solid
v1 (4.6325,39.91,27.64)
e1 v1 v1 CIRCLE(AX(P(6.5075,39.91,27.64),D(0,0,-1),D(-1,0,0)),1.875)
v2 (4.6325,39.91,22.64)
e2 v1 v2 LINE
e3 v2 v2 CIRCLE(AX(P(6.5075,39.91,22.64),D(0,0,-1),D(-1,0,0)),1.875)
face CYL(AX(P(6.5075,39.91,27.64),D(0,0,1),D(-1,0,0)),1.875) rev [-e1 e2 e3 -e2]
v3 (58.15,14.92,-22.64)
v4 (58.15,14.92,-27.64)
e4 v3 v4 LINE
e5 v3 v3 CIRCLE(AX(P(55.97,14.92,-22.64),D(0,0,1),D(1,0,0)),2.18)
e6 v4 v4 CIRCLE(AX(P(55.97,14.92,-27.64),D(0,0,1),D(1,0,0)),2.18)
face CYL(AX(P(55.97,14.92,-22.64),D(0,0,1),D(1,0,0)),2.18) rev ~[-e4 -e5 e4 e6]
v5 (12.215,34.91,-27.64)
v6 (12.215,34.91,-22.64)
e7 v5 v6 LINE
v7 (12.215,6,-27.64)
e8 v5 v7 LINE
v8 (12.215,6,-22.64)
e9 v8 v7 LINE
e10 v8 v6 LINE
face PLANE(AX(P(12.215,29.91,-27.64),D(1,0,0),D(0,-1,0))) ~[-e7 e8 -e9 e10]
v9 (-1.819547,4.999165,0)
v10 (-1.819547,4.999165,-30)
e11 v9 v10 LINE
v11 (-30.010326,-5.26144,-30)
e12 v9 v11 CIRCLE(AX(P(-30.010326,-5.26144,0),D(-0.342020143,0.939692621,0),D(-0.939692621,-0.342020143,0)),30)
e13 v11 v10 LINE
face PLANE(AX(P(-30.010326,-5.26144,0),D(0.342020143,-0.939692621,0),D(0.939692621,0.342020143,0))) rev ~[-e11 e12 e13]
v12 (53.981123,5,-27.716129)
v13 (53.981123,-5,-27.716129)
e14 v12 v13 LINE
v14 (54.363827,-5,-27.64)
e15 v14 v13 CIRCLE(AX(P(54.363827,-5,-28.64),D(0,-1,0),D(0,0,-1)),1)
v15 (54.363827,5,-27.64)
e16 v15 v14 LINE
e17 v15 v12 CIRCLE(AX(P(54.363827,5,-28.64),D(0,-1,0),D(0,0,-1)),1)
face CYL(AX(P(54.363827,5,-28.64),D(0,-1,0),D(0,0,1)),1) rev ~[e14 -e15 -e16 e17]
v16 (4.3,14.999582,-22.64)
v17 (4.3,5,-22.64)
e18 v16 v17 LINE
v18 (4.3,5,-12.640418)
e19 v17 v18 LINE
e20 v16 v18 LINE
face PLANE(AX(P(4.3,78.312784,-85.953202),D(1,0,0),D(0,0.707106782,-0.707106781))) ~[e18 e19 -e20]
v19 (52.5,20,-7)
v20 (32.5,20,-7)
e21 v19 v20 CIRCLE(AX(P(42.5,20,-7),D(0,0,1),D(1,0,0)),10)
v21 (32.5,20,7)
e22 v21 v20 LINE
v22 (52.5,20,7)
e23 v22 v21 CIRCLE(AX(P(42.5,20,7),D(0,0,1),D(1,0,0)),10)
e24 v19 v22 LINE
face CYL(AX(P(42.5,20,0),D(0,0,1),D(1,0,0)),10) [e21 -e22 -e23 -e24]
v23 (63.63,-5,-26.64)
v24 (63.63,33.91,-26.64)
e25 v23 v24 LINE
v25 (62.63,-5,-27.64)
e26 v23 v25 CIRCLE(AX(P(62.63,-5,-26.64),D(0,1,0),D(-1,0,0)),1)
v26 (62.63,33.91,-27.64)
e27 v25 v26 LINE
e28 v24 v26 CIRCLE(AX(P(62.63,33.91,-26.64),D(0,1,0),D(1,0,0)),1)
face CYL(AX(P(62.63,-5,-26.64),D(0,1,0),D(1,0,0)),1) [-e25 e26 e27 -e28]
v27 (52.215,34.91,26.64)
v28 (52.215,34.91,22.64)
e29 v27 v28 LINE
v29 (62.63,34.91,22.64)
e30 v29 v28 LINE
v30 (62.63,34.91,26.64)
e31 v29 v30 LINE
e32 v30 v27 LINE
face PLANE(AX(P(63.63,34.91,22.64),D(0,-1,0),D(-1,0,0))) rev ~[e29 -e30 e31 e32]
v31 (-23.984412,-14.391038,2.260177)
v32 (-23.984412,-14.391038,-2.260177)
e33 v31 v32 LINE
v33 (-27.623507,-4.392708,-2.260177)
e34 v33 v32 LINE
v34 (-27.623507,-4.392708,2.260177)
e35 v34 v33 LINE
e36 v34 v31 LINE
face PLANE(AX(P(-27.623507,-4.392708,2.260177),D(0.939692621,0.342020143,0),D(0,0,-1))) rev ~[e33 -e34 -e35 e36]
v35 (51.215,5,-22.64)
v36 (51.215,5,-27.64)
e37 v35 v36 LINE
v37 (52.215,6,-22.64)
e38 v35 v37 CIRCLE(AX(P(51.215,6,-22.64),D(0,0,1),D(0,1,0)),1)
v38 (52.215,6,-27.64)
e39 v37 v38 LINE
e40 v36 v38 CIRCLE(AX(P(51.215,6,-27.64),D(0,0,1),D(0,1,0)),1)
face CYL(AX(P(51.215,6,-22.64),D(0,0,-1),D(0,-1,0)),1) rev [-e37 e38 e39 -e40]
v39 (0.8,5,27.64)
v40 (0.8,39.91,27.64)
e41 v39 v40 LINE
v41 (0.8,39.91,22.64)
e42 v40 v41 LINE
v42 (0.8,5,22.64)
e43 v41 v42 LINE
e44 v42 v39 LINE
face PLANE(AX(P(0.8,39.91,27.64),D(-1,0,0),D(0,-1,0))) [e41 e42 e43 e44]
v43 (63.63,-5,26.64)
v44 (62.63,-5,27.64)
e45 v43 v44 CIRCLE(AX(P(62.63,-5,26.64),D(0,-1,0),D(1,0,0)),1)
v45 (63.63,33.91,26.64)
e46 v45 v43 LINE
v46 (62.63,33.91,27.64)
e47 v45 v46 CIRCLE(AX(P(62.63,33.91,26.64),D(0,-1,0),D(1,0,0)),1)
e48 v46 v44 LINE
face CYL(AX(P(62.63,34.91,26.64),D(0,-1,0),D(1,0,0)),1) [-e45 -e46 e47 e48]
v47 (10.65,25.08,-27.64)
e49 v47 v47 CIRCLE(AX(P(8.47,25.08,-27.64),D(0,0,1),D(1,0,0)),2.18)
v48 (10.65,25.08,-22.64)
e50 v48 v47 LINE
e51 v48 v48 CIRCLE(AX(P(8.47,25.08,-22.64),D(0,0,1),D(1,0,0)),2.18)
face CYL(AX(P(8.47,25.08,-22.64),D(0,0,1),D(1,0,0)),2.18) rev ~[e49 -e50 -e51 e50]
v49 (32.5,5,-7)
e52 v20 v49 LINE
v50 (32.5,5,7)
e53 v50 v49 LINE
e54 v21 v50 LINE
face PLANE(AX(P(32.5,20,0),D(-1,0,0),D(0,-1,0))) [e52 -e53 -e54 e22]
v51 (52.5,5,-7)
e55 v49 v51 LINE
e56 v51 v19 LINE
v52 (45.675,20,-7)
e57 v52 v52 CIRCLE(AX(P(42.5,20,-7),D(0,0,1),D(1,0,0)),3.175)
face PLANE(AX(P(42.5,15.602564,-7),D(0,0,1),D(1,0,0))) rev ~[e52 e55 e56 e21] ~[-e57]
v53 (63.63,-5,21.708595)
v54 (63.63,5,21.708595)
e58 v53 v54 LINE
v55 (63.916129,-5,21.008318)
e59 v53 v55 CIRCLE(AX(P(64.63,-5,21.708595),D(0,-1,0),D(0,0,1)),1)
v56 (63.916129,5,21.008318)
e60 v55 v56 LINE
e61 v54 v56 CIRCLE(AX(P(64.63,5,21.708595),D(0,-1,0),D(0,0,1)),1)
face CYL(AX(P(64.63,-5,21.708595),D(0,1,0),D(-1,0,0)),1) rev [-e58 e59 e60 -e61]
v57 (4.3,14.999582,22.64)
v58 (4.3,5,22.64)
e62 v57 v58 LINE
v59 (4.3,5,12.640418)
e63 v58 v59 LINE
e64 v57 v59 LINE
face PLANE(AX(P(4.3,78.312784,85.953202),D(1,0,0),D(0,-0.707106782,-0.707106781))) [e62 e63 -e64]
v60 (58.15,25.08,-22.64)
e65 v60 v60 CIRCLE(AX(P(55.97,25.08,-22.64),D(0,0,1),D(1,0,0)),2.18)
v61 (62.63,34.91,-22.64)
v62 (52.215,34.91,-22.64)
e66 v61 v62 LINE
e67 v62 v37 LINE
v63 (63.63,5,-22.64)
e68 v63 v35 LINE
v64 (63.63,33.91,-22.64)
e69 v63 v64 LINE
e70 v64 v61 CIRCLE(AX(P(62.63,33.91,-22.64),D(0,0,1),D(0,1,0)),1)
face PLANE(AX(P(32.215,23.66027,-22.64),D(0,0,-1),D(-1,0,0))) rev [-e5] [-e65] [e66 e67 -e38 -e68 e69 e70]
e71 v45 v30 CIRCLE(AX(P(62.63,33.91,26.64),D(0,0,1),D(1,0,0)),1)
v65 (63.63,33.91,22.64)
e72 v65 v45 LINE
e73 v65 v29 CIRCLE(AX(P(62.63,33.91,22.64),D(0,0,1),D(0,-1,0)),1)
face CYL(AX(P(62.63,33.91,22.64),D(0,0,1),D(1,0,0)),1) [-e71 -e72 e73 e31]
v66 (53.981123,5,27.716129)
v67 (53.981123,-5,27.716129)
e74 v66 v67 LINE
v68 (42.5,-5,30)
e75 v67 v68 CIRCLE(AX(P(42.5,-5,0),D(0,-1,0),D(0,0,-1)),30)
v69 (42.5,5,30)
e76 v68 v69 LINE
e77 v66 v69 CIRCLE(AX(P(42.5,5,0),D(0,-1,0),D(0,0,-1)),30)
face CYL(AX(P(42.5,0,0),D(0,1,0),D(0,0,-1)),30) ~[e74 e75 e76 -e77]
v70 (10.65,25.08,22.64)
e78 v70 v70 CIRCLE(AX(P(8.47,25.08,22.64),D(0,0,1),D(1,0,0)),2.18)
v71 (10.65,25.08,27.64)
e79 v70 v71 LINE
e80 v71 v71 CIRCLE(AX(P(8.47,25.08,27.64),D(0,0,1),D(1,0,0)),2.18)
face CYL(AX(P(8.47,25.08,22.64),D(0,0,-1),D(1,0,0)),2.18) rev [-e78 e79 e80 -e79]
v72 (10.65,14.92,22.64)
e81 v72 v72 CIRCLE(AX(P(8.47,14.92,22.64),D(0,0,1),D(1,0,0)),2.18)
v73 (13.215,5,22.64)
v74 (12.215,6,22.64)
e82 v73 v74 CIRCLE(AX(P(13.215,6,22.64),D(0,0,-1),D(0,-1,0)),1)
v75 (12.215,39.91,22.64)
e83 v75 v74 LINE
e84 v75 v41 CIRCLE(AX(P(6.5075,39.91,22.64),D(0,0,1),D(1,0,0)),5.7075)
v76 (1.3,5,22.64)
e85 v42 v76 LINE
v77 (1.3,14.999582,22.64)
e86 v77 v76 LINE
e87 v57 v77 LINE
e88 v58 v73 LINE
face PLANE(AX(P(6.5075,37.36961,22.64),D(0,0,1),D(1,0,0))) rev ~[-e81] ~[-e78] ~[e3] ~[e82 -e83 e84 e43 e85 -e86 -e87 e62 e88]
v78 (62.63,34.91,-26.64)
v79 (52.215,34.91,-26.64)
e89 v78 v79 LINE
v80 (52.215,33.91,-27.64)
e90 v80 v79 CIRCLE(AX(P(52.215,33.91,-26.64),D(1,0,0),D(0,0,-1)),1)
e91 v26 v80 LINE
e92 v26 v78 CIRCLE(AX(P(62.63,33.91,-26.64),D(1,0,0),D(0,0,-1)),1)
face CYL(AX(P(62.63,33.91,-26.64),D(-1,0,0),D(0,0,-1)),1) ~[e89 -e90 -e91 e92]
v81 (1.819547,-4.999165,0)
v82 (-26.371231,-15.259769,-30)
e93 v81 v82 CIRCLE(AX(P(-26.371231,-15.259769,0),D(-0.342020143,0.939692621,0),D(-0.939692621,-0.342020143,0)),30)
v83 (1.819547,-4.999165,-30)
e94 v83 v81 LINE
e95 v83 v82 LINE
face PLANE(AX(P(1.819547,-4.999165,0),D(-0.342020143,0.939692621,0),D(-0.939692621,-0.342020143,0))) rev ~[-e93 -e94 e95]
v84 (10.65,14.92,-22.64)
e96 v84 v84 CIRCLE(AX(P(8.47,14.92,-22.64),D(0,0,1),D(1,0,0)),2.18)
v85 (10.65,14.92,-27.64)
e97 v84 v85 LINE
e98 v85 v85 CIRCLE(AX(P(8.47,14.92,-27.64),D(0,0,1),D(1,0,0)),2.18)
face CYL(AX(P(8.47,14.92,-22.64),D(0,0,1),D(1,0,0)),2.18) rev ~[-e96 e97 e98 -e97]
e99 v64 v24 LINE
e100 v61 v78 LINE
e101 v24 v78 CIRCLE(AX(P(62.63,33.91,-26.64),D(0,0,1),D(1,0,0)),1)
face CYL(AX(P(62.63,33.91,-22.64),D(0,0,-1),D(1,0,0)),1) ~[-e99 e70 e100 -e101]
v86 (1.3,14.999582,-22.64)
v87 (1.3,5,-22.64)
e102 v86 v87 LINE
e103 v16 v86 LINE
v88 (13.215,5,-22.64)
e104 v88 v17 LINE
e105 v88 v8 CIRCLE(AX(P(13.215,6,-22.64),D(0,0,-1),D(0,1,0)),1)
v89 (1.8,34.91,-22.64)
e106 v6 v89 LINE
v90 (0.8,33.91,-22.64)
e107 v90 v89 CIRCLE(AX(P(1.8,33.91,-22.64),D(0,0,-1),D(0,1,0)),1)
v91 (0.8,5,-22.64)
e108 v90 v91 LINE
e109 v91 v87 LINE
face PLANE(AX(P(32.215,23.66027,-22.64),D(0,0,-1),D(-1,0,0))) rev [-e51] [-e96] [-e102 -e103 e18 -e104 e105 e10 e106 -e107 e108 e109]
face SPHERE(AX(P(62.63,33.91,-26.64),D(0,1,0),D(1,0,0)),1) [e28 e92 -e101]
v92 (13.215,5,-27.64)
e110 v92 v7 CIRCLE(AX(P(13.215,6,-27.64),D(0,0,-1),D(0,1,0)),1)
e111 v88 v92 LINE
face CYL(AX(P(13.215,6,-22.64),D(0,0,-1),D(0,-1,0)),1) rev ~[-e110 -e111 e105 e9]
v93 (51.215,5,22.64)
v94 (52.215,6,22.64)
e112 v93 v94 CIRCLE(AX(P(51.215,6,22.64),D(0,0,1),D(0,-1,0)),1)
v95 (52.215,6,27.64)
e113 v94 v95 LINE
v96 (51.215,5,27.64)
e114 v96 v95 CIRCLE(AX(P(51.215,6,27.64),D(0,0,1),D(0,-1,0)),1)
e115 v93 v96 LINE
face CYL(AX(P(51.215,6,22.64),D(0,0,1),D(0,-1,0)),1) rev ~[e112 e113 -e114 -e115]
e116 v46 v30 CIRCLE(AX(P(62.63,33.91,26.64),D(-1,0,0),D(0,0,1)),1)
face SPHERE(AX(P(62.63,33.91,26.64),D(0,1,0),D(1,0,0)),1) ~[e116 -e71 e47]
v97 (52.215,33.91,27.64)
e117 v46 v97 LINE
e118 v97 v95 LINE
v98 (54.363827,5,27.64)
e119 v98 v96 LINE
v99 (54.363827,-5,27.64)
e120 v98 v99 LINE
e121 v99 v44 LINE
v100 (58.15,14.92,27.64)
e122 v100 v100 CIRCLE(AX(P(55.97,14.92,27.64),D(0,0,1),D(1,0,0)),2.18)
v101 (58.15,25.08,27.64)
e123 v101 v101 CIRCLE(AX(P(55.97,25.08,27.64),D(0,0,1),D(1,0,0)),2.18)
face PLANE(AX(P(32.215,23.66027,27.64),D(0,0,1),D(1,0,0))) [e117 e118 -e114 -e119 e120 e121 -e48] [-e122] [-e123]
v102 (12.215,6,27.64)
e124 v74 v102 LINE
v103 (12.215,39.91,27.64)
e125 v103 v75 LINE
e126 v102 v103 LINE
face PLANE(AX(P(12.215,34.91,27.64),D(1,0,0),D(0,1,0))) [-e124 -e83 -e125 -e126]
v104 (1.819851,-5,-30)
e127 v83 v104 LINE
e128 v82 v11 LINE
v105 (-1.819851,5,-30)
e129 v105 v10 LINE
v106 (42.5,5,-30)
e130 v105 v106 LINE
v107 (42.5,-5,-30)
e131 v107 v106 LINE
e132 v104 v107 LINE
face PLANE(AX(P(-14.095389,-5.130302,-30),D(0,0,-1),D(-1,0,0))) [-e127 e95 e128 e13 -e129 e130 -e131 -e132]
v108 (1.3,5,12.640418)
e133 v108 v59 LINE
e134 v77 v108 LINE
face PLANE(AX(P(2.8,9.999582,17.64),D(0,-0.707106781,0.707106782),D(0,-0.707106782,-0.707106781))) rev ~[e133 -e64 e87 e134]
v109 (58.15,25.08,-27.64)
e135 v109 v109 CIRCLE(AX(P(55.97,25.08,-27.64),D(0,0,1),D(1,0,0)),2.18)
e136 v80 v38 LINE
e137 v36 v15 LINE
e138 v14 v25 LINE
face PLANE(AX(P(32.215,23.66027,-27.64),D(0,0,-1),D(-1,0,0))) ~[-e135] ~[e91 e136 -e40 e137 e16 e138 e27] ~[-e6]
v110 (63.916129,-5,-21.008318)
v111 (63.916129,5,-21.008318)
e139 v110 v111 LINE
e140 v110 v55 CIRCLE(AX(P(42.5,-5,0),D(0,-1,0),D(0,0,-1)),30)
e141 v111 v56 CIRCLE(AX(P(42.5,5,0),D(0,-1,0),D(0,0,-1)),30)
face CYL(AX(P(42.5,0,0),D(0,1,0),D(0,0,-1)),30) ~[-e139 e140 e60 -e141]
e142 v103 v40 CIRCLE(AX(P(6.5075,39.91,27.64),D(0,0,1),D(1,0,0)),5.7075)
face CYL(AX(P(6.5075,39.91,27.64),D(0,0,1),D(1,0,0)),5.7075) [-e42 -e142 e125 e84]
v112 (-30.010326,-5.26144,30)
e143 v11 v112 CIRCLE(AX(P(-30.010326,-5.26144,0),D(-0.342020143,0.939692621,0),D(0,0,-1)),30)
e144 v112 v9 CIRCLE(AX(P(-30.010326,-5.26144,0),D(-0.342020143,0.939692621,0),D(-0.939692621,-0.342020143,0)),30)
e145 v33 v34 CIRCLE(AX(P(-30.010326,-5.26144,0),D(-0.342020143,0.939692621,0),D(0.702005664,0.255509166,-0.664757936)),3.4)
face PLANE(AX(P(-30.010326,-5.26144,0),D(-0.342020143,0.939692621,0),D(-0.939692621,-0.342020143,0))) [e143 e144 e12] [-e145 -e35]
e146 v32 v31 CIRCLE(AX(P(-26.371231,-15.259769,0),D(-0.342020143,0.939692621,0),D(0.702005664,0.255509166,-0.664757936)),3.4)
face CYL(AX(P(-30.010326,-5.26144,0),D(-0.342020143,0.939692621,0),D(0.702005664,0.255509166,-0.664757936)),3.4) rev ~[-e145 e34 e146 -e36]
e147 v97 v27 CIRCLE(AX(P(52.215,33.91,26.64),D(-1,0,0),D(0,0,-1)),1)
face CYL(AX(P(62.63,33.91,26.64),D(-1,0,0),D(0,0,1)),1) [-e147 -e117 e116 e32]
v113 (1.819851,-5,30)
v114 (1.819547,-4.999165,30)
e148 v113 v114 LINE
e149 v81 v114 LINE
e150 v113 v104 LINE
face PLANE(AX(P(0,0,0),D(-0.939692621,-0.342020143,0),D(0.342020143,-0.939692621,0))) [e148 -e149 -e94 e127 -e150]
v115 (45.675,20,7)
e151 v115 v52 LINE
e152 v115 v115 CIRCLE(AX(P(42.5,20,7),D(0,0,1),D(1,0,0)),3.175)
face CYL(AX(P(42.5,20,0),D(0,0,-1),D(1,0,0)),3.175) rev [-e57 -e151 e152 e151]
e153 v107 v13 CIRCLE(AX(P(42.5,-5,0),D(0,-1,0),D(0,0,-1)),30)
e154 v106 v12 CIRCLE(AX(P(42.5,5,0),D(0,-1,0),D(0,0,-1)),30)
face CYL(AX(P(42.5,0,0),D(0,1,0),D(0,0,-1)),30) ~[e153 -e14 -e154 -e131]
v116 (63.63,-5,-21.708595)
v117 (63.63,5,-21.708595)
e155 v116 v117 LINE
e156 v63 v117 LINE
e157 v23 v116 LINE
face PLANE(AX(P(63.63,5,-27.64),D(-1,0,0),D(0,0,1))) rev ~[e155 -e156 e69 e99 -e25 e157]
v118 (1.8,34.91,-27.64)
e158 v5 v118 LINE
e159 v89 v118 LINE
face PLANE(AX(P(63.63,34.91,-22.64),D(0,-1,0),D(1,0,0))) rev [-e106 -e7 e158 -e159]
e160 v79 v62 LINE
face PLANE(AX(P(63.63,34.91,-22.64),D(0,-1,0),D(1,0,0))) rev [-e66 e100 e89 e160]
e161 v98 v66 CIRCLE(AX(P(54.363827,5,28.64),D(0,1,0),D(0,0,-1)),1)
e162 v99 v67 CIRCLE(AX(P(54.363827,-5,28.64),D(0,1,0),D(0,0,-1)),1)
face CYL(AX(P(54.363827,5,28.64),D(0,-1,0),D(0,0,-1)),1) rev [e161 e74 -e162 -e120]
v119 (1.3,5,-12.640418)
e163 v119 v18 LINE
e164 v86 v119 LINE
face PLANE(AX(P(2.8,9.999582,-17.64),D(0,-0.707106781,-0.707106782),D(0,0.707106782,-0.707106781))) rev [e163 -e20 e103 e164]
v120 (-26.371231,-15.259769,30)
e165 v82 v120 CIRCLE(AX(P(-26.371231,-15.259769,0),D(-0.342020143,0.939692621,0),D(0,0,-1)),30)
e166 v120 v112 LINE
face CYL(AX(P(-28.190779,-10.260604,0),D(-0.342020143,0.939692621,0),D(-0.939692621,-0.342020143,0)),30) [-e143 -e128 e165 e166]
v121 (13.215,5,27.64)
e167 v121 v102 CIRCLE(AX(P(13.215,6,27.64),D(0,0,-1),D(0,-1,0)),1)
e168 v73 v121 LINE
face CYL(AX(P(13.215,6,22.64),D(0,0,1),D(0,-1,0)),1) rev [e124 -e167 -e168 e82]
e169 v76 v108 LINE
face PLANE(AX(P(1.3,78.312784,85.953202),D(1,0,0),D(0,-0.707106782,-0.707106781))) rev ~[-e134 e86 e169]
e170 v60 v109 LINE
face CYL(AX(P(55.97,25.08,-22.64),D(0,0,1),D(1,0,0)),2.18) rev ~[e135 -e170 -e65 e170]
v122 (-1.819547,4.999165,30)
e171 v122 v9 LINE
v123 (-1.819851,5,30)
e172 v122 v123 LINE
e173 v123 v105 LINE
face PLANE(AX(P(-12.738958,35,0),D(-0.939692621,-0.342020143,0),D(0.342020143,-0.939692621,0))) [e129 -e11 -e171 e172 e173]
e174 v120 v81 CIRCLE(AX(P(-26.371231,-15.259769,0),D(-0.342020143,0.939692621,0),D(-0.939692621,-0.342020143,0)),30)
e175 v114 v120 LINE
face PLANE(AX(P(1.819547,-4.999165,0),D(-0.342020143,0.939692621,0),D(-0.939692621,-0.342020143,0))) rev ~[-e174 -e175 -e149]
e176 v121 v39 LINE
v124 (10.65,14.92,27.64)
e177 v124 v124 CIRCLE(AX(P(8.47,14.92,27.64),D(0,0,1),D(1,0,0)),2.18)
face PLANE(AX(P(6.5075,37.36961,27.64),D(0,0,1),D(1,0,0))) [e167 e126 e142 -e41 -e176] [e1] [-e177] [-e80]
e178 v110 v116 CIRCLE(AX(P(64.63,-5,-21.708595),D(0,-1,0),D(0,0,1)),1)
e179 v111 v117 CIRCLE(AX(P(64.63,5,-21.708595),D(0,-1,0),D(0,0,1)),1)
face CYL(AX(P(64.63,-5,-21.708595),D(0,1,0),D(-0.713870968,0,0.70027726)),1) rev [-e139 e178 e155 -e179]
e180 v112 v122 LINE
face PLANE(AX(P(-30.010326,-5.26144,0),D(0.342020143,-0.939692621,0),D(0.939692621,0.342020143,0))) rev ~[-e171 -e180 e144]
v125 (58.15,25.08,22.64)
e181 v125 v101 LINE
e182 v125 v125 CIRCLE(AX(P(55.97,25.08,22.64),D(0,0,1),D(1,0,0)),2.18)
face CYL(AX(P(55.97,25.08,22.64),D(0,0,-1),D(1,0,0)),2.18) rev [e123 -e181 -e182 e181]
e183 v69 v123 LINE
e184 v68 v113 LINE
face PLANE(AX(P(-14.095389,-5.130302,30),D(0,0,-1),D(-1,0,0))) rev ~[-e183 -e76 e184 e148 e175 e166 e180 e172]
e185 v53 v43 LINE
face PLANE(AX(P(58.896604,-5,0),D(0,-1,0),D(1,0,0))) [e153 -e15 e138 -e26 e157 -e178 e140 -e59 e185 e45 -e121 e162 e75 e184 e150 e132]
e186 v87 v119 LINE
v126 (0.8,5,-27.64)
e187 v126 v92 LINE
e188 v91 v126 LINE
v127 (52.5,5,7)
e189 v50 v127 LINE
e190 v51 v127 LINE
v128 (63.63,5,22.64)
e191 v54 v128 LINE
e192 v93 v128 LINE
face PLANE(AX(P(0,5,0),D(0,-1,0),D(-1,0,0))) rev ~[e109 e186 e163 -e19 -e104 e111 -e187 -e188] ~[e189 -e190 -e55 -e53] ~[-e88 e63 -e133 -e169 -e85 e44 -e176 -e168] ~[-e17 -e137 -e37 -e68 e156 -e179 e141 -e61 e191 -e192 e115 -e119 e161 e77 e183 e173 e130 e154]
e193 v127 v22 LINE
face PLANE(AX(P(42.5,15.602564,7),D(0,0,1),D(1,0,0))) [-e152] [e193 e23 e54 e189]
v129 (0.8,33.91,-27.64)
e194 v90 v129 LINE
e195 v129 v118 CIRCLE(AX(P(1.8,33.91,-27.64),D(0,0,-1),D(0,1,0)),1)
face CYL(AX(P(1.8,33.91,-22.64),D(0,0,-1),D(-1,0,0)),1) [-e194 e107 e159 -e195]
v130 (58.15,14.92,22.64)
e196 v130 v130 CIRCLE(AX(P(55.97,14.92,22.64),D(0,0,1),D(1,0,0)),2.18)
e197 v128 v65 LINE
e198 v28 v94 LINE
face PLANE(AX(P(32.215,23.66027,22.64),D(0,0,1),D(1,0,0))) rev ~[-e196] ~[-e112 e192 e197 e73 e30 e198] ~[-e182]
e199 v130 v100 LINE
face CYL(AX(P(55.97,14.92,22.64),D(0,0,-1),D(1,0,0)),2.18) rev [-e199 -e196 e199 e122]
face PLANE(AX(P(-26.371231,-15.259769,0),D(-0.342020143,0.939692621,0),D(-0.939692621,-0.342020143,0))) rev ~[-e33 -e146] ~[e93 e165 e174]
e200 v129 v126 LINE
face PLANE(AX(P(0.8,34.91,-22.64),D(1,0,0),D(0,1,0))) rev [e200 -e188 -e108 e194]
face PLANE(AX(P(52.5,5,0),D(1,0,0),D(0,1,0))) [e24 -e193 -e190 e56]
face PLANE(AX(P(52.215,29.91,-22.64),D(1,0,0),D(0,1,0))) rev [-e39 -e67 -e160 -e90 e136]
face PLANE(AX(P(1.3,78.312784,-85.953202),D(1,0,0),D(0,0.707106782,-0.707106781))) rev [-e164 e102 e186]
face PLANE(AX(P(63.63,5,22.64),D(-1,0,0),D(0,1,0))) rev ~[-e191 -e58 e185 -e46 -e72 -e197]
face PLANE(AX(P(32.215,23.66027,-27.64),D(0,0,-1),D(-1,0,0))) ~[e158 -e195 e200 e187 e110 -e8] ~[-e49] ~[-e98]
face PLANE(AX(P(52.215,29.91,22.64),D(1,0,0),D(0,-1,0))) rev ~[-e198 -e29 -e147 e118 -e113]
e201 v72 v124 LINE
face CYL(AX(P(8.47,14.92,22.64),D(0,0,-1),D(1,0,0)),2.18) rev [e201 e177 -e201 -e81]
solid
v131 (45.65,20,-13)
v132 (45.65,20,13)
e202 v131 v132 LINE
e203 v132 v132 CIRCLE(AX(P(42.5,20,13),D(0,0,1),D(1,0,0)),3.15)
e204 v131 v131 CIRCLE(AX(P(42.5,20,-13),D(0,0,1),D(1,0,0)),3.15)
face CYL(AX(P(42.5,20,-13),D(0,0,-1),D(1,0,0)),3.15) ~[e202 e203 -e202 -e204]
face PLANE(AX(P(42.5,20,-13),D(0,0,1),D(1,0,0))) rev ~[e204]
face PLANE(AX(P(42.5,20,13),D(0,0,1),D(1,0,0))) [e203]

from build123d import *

# Parameters (mm, degrees)
BOSS_EXTRU_3_DEPTH       = 5
ESQUISSE7_R              = 3.175
BOSS_EXTRU_5_DEPTH       = 7
ESQUISSE13_R             = 2.18
BOSS_EXTRU_8_DEPTH       = 5
ENL_V_MAT_EXTRU_8_REACH  = 100.981
ESQUISSE47_W             = 40
ESQUISSE47_H             = 5
ESQUISSE33_W             = 9.466792894
ESQUISSE33_H             = 55.28
BOSS_EXTRU_10_DEPTH      = 10
ENL_V_MAT_EXTRU_6_DEPTH  = 65
ESQUISSE35_R             = 30
BOSS_EXTRU_11_DEPTH      = 5.32
BOSS_EXTRU_12_DEPTH      = 30
ENL_V_MAT_EXTRU_7_DEPTH  = 60
BOSS_EXTRU_13_DEPTH      = 5
NERVURE4_REACH           = 90.538
ESQUISSE45_WALL_W        = 193.218913386
ESQUISSE45_WALL_H        = 3
CONG_1_R                 = 1
CONG_2_R                 = 1
BOSS_EXTRU_14_DEPTH      = 13
BOSS_EXTRU_14_DEPTH_BACK = 13
ESQUISSE48_R             = 3.15


with BuildPart() as part:
    # Esquisse5 → Boss.-Extru.3 (new, symmetric)
    with BuildSketch(Plane(origin=(0, 0, 0), x_dir=(1, 0, 0), z_dir=(0, 1, 0))):
        with BuildLine():
            Line((42.5, -30), (-42.5, -30))
            ThreePointArc((-42.5, -30), (-72.5, 0), (-42.5, 30))
            Line((-42.5, 30), (42.5, 30))
            ThreePointArc((42.5, 30), (72.5, 0), (42.5, -30))
        make_face()
    extrude(amount=BOSS_EXTRU_3_DEPTH, both=True)

    # Esquisse7 → Boss.-Extru.5 (add, symmetric)
    with BuildSketch(Plane.XY):
        with BuildLine():
            Line((32.5, 5), (52.5, 5))
            Line((52.5, 5), (52.5, 20))
            ThreePointArc((52.5, 20), (42.5, 30), (32.5, 20))
            Line((32.5, 20), (32.5, 5))
        make_face()
        with Locations((42.5, 20)):
            Circle(ESQUISSE7_R, mode=Mode.SUBTRACT)
    extrude(amount=BOSS_EXTRU_5_DEPTH, both=True)

    # Esquisse13 → Boss.-Extru.8 (add)
    with BuildSketch(Plane.XY.offset(22.64)):
        Polygon((0.8, 5), (5.8, 5), (12.215, 5), (12.215, 29.91), (52.215, 29.91), (52.215, 5), (58.63, 5), (63.63, 5), (63.63, 34.91), (0.8, 34.91), align=None)
        with Locations((8.47, 14.92)):
            Circle(ESQUISSE13_R, mode=Mode.SUBTRACT)
        with Locations((55.97, 14.92)):
            Circle(ESQUISSE13_R, mode=Mode.SUBTRACT)
        with Locations((8.47, 25.08)):
            Circle(ESQUISSE13_R, mode=Mode.SUBTRACT)
        with Locations((55.97, 25.08)):
            Circle(ESQUISSE13_R, mode=Mode.SUBTRACT)
    boss_extru_8 = extrude(amount=BOSS_EXTRU_8_DEPTH)

    # Esquisse47 → Enlèv. mat.-Extru.8 (cut, up to next)
    with BuildSketch(Plane.XY.offset(27.64), mode=Mode.PRIVATE) as enl_v_mat_extru_8_sk1:
        with Locations((32.215, 32.41)):
            Rectangle(ESQUISSE47_W, ESQUISSE47_H)
    enl_v_mat_extru_8_tool1 = extrude(enl_v_mat_extru_8_sk1.sketch, amount=-ENL_V_MAT_EXTRU_8_REACH, mode=Mode.PRIVATE) & part.part
    enl_v_mat_extru_8 = enl_v_mat_extru_8_tool1.solids().sort_by_distance((32.215, 32.41, 27.64))[0]
    add(enl_v_mat_extru_8, mode=Mode.SUBTRACT)

    # Symétrie2: Boss.-Extru.8, Enlèv. mat.-Extru.8 across plane
    add(boss_extru_8.mirror(Plane.XY))
    add(enl_v_mat_extru_8.mirror(Plane.XY), mode=Mode.SUBTRACT)

    # Esquisse33 → Boss.-Extru.10 (add)
    with BuildSketch(Plane.XZ.offset(-5)):
        with Locations((58.896603553, 0)):
            Rectangle(ESQUISSE33_W, ESQUISSE33_H)
    extrude(amount=BOSS_EXTRU_10_DEPTH)

    # Esquisse36 → Enlèv. mat.-Extru.6 (cut, symmetric)
    with BuildSketch(Plane.XY):
        Polygon((0, 0), (9.099255857, -25), (-112.5, -25), (-112.5, 35), (-12.738958199, 35), align=None)
    extrude(amount=ENL_V_MAT_EXTRU_6_DEPTH, both=True, mode=Mode.SUBTRACT)



with BuildPart() as body_2:
    # Esquisse35 → Boss.-Extru.11 (new, symmetric)
    with BuildSketch(Plane(origin=(0, 0, 0), x_dir=(0, 0, -1), z_dir=(-0.34202014332566977, 0.939692620785908, 0))):
        with Locations(Location((0, 30, 0), (0, 0, 90))):
            Circle(ESQUISSE35_R)
    extrude(amount=BOSS_EXTRU_11_DEPTH, both=True)


with BuildPart() as part_1:
    add(part.part)

    add(body_2.part)  # Boss.-Extru.12 merges body 2
    # Esquisse40 → Boss.-Extru.12 (add, symmetric)
    with BuildSketch(Plane.XY):
        Polygon((-26.371231461, -15.259769042), (-30.010325786, -5.261439557), (-1.819547162, 4.999164743), (1.819547162, -4.999164743), align=None)
    extrude(amount=BOSS_EXTRU_12_DEPTH, both=True)

    # Esquisse41 → Enlèv. mat.-Extru.7 (cut)
    with BuildSketch(Plane(origin=(-1.819547162, 4.999164743, 0), x_dir=(0.939692620785908, 0.3420201433256698, 0), z_dir=(-0.3420201433256698, 0.9396926207859081, 0))):
        with BuildLine():
            Line((-27.46, -2.260176984), (-27.46, 2.260176984))
            ThreePointArc((-27.46, 2.260176984), (-33.4, 0), (-27.46, -2.260176984))
        make_face()
    extrude(amount=-ENL_V_MAT_EXTRU_7_DEPTH, mode=Mode.SUBTRACT)

    # Esquisse42 → Boss.-Extru.13 (add)
    with BuildSketch(Plane.XY.offset(27.64)):
        with BuildLine():
            Line((0.8, 39.91), (0.8, 34.91))
            Line((0.8, 34.91), (12.215, 34.91))
            Line((12.215, 34.91), (12.215, 39.91))
            Line((12.215, 39.91), (8.3825, 39.91))
            ThreePointArc((8.3825, 39.91), (6.5075, 38.035), (4.6325, 39.91))
            Line((4.6325, 39.91), (0.8, 39.91))
        make_face()
        with BuildLine():
            ThreePointArc((12.215, 39.91), (6.5075, 45.6175), (0.8, 39.91))
            Line((0.8, 39.91), (4.6325, 39.91))
            ThreePointArc((4.6325, 39.91), (6.5075, 41.785), (8.3825, 39.91))
            Line((8.3825, 39.91), (12.215, 39.91))
        make_face()
    extrude(amount=-BOSS_EXTRU_13_DEPTH)

    # Esquisse45 wall → Nervure4 (add, up to next)
    with BuildSketch(Plane(origin=(2.8, 9.999582371, 17.640000004), x_dir=(0, -0.707106781505, -0.707106780868), z_dir=(0, -0.707106780868, 0.707106781505)), mode=Mode.PRIVATE) as nervure4_sk1:
        Rectangle(ESQUISSE45_WALL_W, ESQUISSE45_WALL_H)
    nervure4_tool1 = extrude(nervure4_sk1.sketch, amount=NERVURE4_REACH, mode=Mode.PRIVATE) - part_1.part
    nervure4 = nervure4_tool1.solids().sort_by_distance((2.8, 9.999582371, 17.640000004))[0]
    add(nervure4)

    # Congé1
    cong_1_edges = [part_1.edges().sort_by_distance(p)[0] for p in [
        (54.163207106, 0, 27.64),
        (63.63, 14.955, -27.64),
        (54.163207106, 0, -27.64),
        (63.63, 14.955, 27.64),
        (63.63, 0, 21.296081799),
        (63.63, 0, -21.296081799),
    ]]
    fillet(cong_1_edges, radius=CONG_1_R)

    # Symétrie3: Nervure4 across plane
    add(nervure4.mirror(Plane.XY))

    # Congé2
    cong_2_edges = [part_1.edges().sort_by_distance(p)[0] for p in [
        (63.63, 34.91, 24.64),
        (63.337106781, 34.91, 27.347106781),
        (63.63, 34.91, -24.64),
        (63.337106781, 34.91, -27.347106781),
        (0.8, 34.91, -25.14),
        (52.215, 5, 25.14),
        (12.215, 5, -25.14),
        (57.4225, 34.91, 27.64),
        (12.215, 5, 25.14),
        (52.215, 5, -25.14),
    ]]
    fillet(cong_2_edges, radius=CONG_2_R)


with BuildPart() as body_2_2:
    # Esquisse48 → Boss.-Extru.14 (new, two sides: drawn at the far end of the back side and taken through both)
    with BuildSketch(Plane.XY.offset(-BOSS_EXTRU_14_DEPTH_BACK)):
        with Locations((42.5, 20)):
            Circle(ESQUISSE48_R)
    extrude(amount=BOSS_EXTRU_14_DEPTH + BOSS_EXTRU_14_DEPTH_BACK)


solid = Compound([part_1.part, body_2_2.part])
